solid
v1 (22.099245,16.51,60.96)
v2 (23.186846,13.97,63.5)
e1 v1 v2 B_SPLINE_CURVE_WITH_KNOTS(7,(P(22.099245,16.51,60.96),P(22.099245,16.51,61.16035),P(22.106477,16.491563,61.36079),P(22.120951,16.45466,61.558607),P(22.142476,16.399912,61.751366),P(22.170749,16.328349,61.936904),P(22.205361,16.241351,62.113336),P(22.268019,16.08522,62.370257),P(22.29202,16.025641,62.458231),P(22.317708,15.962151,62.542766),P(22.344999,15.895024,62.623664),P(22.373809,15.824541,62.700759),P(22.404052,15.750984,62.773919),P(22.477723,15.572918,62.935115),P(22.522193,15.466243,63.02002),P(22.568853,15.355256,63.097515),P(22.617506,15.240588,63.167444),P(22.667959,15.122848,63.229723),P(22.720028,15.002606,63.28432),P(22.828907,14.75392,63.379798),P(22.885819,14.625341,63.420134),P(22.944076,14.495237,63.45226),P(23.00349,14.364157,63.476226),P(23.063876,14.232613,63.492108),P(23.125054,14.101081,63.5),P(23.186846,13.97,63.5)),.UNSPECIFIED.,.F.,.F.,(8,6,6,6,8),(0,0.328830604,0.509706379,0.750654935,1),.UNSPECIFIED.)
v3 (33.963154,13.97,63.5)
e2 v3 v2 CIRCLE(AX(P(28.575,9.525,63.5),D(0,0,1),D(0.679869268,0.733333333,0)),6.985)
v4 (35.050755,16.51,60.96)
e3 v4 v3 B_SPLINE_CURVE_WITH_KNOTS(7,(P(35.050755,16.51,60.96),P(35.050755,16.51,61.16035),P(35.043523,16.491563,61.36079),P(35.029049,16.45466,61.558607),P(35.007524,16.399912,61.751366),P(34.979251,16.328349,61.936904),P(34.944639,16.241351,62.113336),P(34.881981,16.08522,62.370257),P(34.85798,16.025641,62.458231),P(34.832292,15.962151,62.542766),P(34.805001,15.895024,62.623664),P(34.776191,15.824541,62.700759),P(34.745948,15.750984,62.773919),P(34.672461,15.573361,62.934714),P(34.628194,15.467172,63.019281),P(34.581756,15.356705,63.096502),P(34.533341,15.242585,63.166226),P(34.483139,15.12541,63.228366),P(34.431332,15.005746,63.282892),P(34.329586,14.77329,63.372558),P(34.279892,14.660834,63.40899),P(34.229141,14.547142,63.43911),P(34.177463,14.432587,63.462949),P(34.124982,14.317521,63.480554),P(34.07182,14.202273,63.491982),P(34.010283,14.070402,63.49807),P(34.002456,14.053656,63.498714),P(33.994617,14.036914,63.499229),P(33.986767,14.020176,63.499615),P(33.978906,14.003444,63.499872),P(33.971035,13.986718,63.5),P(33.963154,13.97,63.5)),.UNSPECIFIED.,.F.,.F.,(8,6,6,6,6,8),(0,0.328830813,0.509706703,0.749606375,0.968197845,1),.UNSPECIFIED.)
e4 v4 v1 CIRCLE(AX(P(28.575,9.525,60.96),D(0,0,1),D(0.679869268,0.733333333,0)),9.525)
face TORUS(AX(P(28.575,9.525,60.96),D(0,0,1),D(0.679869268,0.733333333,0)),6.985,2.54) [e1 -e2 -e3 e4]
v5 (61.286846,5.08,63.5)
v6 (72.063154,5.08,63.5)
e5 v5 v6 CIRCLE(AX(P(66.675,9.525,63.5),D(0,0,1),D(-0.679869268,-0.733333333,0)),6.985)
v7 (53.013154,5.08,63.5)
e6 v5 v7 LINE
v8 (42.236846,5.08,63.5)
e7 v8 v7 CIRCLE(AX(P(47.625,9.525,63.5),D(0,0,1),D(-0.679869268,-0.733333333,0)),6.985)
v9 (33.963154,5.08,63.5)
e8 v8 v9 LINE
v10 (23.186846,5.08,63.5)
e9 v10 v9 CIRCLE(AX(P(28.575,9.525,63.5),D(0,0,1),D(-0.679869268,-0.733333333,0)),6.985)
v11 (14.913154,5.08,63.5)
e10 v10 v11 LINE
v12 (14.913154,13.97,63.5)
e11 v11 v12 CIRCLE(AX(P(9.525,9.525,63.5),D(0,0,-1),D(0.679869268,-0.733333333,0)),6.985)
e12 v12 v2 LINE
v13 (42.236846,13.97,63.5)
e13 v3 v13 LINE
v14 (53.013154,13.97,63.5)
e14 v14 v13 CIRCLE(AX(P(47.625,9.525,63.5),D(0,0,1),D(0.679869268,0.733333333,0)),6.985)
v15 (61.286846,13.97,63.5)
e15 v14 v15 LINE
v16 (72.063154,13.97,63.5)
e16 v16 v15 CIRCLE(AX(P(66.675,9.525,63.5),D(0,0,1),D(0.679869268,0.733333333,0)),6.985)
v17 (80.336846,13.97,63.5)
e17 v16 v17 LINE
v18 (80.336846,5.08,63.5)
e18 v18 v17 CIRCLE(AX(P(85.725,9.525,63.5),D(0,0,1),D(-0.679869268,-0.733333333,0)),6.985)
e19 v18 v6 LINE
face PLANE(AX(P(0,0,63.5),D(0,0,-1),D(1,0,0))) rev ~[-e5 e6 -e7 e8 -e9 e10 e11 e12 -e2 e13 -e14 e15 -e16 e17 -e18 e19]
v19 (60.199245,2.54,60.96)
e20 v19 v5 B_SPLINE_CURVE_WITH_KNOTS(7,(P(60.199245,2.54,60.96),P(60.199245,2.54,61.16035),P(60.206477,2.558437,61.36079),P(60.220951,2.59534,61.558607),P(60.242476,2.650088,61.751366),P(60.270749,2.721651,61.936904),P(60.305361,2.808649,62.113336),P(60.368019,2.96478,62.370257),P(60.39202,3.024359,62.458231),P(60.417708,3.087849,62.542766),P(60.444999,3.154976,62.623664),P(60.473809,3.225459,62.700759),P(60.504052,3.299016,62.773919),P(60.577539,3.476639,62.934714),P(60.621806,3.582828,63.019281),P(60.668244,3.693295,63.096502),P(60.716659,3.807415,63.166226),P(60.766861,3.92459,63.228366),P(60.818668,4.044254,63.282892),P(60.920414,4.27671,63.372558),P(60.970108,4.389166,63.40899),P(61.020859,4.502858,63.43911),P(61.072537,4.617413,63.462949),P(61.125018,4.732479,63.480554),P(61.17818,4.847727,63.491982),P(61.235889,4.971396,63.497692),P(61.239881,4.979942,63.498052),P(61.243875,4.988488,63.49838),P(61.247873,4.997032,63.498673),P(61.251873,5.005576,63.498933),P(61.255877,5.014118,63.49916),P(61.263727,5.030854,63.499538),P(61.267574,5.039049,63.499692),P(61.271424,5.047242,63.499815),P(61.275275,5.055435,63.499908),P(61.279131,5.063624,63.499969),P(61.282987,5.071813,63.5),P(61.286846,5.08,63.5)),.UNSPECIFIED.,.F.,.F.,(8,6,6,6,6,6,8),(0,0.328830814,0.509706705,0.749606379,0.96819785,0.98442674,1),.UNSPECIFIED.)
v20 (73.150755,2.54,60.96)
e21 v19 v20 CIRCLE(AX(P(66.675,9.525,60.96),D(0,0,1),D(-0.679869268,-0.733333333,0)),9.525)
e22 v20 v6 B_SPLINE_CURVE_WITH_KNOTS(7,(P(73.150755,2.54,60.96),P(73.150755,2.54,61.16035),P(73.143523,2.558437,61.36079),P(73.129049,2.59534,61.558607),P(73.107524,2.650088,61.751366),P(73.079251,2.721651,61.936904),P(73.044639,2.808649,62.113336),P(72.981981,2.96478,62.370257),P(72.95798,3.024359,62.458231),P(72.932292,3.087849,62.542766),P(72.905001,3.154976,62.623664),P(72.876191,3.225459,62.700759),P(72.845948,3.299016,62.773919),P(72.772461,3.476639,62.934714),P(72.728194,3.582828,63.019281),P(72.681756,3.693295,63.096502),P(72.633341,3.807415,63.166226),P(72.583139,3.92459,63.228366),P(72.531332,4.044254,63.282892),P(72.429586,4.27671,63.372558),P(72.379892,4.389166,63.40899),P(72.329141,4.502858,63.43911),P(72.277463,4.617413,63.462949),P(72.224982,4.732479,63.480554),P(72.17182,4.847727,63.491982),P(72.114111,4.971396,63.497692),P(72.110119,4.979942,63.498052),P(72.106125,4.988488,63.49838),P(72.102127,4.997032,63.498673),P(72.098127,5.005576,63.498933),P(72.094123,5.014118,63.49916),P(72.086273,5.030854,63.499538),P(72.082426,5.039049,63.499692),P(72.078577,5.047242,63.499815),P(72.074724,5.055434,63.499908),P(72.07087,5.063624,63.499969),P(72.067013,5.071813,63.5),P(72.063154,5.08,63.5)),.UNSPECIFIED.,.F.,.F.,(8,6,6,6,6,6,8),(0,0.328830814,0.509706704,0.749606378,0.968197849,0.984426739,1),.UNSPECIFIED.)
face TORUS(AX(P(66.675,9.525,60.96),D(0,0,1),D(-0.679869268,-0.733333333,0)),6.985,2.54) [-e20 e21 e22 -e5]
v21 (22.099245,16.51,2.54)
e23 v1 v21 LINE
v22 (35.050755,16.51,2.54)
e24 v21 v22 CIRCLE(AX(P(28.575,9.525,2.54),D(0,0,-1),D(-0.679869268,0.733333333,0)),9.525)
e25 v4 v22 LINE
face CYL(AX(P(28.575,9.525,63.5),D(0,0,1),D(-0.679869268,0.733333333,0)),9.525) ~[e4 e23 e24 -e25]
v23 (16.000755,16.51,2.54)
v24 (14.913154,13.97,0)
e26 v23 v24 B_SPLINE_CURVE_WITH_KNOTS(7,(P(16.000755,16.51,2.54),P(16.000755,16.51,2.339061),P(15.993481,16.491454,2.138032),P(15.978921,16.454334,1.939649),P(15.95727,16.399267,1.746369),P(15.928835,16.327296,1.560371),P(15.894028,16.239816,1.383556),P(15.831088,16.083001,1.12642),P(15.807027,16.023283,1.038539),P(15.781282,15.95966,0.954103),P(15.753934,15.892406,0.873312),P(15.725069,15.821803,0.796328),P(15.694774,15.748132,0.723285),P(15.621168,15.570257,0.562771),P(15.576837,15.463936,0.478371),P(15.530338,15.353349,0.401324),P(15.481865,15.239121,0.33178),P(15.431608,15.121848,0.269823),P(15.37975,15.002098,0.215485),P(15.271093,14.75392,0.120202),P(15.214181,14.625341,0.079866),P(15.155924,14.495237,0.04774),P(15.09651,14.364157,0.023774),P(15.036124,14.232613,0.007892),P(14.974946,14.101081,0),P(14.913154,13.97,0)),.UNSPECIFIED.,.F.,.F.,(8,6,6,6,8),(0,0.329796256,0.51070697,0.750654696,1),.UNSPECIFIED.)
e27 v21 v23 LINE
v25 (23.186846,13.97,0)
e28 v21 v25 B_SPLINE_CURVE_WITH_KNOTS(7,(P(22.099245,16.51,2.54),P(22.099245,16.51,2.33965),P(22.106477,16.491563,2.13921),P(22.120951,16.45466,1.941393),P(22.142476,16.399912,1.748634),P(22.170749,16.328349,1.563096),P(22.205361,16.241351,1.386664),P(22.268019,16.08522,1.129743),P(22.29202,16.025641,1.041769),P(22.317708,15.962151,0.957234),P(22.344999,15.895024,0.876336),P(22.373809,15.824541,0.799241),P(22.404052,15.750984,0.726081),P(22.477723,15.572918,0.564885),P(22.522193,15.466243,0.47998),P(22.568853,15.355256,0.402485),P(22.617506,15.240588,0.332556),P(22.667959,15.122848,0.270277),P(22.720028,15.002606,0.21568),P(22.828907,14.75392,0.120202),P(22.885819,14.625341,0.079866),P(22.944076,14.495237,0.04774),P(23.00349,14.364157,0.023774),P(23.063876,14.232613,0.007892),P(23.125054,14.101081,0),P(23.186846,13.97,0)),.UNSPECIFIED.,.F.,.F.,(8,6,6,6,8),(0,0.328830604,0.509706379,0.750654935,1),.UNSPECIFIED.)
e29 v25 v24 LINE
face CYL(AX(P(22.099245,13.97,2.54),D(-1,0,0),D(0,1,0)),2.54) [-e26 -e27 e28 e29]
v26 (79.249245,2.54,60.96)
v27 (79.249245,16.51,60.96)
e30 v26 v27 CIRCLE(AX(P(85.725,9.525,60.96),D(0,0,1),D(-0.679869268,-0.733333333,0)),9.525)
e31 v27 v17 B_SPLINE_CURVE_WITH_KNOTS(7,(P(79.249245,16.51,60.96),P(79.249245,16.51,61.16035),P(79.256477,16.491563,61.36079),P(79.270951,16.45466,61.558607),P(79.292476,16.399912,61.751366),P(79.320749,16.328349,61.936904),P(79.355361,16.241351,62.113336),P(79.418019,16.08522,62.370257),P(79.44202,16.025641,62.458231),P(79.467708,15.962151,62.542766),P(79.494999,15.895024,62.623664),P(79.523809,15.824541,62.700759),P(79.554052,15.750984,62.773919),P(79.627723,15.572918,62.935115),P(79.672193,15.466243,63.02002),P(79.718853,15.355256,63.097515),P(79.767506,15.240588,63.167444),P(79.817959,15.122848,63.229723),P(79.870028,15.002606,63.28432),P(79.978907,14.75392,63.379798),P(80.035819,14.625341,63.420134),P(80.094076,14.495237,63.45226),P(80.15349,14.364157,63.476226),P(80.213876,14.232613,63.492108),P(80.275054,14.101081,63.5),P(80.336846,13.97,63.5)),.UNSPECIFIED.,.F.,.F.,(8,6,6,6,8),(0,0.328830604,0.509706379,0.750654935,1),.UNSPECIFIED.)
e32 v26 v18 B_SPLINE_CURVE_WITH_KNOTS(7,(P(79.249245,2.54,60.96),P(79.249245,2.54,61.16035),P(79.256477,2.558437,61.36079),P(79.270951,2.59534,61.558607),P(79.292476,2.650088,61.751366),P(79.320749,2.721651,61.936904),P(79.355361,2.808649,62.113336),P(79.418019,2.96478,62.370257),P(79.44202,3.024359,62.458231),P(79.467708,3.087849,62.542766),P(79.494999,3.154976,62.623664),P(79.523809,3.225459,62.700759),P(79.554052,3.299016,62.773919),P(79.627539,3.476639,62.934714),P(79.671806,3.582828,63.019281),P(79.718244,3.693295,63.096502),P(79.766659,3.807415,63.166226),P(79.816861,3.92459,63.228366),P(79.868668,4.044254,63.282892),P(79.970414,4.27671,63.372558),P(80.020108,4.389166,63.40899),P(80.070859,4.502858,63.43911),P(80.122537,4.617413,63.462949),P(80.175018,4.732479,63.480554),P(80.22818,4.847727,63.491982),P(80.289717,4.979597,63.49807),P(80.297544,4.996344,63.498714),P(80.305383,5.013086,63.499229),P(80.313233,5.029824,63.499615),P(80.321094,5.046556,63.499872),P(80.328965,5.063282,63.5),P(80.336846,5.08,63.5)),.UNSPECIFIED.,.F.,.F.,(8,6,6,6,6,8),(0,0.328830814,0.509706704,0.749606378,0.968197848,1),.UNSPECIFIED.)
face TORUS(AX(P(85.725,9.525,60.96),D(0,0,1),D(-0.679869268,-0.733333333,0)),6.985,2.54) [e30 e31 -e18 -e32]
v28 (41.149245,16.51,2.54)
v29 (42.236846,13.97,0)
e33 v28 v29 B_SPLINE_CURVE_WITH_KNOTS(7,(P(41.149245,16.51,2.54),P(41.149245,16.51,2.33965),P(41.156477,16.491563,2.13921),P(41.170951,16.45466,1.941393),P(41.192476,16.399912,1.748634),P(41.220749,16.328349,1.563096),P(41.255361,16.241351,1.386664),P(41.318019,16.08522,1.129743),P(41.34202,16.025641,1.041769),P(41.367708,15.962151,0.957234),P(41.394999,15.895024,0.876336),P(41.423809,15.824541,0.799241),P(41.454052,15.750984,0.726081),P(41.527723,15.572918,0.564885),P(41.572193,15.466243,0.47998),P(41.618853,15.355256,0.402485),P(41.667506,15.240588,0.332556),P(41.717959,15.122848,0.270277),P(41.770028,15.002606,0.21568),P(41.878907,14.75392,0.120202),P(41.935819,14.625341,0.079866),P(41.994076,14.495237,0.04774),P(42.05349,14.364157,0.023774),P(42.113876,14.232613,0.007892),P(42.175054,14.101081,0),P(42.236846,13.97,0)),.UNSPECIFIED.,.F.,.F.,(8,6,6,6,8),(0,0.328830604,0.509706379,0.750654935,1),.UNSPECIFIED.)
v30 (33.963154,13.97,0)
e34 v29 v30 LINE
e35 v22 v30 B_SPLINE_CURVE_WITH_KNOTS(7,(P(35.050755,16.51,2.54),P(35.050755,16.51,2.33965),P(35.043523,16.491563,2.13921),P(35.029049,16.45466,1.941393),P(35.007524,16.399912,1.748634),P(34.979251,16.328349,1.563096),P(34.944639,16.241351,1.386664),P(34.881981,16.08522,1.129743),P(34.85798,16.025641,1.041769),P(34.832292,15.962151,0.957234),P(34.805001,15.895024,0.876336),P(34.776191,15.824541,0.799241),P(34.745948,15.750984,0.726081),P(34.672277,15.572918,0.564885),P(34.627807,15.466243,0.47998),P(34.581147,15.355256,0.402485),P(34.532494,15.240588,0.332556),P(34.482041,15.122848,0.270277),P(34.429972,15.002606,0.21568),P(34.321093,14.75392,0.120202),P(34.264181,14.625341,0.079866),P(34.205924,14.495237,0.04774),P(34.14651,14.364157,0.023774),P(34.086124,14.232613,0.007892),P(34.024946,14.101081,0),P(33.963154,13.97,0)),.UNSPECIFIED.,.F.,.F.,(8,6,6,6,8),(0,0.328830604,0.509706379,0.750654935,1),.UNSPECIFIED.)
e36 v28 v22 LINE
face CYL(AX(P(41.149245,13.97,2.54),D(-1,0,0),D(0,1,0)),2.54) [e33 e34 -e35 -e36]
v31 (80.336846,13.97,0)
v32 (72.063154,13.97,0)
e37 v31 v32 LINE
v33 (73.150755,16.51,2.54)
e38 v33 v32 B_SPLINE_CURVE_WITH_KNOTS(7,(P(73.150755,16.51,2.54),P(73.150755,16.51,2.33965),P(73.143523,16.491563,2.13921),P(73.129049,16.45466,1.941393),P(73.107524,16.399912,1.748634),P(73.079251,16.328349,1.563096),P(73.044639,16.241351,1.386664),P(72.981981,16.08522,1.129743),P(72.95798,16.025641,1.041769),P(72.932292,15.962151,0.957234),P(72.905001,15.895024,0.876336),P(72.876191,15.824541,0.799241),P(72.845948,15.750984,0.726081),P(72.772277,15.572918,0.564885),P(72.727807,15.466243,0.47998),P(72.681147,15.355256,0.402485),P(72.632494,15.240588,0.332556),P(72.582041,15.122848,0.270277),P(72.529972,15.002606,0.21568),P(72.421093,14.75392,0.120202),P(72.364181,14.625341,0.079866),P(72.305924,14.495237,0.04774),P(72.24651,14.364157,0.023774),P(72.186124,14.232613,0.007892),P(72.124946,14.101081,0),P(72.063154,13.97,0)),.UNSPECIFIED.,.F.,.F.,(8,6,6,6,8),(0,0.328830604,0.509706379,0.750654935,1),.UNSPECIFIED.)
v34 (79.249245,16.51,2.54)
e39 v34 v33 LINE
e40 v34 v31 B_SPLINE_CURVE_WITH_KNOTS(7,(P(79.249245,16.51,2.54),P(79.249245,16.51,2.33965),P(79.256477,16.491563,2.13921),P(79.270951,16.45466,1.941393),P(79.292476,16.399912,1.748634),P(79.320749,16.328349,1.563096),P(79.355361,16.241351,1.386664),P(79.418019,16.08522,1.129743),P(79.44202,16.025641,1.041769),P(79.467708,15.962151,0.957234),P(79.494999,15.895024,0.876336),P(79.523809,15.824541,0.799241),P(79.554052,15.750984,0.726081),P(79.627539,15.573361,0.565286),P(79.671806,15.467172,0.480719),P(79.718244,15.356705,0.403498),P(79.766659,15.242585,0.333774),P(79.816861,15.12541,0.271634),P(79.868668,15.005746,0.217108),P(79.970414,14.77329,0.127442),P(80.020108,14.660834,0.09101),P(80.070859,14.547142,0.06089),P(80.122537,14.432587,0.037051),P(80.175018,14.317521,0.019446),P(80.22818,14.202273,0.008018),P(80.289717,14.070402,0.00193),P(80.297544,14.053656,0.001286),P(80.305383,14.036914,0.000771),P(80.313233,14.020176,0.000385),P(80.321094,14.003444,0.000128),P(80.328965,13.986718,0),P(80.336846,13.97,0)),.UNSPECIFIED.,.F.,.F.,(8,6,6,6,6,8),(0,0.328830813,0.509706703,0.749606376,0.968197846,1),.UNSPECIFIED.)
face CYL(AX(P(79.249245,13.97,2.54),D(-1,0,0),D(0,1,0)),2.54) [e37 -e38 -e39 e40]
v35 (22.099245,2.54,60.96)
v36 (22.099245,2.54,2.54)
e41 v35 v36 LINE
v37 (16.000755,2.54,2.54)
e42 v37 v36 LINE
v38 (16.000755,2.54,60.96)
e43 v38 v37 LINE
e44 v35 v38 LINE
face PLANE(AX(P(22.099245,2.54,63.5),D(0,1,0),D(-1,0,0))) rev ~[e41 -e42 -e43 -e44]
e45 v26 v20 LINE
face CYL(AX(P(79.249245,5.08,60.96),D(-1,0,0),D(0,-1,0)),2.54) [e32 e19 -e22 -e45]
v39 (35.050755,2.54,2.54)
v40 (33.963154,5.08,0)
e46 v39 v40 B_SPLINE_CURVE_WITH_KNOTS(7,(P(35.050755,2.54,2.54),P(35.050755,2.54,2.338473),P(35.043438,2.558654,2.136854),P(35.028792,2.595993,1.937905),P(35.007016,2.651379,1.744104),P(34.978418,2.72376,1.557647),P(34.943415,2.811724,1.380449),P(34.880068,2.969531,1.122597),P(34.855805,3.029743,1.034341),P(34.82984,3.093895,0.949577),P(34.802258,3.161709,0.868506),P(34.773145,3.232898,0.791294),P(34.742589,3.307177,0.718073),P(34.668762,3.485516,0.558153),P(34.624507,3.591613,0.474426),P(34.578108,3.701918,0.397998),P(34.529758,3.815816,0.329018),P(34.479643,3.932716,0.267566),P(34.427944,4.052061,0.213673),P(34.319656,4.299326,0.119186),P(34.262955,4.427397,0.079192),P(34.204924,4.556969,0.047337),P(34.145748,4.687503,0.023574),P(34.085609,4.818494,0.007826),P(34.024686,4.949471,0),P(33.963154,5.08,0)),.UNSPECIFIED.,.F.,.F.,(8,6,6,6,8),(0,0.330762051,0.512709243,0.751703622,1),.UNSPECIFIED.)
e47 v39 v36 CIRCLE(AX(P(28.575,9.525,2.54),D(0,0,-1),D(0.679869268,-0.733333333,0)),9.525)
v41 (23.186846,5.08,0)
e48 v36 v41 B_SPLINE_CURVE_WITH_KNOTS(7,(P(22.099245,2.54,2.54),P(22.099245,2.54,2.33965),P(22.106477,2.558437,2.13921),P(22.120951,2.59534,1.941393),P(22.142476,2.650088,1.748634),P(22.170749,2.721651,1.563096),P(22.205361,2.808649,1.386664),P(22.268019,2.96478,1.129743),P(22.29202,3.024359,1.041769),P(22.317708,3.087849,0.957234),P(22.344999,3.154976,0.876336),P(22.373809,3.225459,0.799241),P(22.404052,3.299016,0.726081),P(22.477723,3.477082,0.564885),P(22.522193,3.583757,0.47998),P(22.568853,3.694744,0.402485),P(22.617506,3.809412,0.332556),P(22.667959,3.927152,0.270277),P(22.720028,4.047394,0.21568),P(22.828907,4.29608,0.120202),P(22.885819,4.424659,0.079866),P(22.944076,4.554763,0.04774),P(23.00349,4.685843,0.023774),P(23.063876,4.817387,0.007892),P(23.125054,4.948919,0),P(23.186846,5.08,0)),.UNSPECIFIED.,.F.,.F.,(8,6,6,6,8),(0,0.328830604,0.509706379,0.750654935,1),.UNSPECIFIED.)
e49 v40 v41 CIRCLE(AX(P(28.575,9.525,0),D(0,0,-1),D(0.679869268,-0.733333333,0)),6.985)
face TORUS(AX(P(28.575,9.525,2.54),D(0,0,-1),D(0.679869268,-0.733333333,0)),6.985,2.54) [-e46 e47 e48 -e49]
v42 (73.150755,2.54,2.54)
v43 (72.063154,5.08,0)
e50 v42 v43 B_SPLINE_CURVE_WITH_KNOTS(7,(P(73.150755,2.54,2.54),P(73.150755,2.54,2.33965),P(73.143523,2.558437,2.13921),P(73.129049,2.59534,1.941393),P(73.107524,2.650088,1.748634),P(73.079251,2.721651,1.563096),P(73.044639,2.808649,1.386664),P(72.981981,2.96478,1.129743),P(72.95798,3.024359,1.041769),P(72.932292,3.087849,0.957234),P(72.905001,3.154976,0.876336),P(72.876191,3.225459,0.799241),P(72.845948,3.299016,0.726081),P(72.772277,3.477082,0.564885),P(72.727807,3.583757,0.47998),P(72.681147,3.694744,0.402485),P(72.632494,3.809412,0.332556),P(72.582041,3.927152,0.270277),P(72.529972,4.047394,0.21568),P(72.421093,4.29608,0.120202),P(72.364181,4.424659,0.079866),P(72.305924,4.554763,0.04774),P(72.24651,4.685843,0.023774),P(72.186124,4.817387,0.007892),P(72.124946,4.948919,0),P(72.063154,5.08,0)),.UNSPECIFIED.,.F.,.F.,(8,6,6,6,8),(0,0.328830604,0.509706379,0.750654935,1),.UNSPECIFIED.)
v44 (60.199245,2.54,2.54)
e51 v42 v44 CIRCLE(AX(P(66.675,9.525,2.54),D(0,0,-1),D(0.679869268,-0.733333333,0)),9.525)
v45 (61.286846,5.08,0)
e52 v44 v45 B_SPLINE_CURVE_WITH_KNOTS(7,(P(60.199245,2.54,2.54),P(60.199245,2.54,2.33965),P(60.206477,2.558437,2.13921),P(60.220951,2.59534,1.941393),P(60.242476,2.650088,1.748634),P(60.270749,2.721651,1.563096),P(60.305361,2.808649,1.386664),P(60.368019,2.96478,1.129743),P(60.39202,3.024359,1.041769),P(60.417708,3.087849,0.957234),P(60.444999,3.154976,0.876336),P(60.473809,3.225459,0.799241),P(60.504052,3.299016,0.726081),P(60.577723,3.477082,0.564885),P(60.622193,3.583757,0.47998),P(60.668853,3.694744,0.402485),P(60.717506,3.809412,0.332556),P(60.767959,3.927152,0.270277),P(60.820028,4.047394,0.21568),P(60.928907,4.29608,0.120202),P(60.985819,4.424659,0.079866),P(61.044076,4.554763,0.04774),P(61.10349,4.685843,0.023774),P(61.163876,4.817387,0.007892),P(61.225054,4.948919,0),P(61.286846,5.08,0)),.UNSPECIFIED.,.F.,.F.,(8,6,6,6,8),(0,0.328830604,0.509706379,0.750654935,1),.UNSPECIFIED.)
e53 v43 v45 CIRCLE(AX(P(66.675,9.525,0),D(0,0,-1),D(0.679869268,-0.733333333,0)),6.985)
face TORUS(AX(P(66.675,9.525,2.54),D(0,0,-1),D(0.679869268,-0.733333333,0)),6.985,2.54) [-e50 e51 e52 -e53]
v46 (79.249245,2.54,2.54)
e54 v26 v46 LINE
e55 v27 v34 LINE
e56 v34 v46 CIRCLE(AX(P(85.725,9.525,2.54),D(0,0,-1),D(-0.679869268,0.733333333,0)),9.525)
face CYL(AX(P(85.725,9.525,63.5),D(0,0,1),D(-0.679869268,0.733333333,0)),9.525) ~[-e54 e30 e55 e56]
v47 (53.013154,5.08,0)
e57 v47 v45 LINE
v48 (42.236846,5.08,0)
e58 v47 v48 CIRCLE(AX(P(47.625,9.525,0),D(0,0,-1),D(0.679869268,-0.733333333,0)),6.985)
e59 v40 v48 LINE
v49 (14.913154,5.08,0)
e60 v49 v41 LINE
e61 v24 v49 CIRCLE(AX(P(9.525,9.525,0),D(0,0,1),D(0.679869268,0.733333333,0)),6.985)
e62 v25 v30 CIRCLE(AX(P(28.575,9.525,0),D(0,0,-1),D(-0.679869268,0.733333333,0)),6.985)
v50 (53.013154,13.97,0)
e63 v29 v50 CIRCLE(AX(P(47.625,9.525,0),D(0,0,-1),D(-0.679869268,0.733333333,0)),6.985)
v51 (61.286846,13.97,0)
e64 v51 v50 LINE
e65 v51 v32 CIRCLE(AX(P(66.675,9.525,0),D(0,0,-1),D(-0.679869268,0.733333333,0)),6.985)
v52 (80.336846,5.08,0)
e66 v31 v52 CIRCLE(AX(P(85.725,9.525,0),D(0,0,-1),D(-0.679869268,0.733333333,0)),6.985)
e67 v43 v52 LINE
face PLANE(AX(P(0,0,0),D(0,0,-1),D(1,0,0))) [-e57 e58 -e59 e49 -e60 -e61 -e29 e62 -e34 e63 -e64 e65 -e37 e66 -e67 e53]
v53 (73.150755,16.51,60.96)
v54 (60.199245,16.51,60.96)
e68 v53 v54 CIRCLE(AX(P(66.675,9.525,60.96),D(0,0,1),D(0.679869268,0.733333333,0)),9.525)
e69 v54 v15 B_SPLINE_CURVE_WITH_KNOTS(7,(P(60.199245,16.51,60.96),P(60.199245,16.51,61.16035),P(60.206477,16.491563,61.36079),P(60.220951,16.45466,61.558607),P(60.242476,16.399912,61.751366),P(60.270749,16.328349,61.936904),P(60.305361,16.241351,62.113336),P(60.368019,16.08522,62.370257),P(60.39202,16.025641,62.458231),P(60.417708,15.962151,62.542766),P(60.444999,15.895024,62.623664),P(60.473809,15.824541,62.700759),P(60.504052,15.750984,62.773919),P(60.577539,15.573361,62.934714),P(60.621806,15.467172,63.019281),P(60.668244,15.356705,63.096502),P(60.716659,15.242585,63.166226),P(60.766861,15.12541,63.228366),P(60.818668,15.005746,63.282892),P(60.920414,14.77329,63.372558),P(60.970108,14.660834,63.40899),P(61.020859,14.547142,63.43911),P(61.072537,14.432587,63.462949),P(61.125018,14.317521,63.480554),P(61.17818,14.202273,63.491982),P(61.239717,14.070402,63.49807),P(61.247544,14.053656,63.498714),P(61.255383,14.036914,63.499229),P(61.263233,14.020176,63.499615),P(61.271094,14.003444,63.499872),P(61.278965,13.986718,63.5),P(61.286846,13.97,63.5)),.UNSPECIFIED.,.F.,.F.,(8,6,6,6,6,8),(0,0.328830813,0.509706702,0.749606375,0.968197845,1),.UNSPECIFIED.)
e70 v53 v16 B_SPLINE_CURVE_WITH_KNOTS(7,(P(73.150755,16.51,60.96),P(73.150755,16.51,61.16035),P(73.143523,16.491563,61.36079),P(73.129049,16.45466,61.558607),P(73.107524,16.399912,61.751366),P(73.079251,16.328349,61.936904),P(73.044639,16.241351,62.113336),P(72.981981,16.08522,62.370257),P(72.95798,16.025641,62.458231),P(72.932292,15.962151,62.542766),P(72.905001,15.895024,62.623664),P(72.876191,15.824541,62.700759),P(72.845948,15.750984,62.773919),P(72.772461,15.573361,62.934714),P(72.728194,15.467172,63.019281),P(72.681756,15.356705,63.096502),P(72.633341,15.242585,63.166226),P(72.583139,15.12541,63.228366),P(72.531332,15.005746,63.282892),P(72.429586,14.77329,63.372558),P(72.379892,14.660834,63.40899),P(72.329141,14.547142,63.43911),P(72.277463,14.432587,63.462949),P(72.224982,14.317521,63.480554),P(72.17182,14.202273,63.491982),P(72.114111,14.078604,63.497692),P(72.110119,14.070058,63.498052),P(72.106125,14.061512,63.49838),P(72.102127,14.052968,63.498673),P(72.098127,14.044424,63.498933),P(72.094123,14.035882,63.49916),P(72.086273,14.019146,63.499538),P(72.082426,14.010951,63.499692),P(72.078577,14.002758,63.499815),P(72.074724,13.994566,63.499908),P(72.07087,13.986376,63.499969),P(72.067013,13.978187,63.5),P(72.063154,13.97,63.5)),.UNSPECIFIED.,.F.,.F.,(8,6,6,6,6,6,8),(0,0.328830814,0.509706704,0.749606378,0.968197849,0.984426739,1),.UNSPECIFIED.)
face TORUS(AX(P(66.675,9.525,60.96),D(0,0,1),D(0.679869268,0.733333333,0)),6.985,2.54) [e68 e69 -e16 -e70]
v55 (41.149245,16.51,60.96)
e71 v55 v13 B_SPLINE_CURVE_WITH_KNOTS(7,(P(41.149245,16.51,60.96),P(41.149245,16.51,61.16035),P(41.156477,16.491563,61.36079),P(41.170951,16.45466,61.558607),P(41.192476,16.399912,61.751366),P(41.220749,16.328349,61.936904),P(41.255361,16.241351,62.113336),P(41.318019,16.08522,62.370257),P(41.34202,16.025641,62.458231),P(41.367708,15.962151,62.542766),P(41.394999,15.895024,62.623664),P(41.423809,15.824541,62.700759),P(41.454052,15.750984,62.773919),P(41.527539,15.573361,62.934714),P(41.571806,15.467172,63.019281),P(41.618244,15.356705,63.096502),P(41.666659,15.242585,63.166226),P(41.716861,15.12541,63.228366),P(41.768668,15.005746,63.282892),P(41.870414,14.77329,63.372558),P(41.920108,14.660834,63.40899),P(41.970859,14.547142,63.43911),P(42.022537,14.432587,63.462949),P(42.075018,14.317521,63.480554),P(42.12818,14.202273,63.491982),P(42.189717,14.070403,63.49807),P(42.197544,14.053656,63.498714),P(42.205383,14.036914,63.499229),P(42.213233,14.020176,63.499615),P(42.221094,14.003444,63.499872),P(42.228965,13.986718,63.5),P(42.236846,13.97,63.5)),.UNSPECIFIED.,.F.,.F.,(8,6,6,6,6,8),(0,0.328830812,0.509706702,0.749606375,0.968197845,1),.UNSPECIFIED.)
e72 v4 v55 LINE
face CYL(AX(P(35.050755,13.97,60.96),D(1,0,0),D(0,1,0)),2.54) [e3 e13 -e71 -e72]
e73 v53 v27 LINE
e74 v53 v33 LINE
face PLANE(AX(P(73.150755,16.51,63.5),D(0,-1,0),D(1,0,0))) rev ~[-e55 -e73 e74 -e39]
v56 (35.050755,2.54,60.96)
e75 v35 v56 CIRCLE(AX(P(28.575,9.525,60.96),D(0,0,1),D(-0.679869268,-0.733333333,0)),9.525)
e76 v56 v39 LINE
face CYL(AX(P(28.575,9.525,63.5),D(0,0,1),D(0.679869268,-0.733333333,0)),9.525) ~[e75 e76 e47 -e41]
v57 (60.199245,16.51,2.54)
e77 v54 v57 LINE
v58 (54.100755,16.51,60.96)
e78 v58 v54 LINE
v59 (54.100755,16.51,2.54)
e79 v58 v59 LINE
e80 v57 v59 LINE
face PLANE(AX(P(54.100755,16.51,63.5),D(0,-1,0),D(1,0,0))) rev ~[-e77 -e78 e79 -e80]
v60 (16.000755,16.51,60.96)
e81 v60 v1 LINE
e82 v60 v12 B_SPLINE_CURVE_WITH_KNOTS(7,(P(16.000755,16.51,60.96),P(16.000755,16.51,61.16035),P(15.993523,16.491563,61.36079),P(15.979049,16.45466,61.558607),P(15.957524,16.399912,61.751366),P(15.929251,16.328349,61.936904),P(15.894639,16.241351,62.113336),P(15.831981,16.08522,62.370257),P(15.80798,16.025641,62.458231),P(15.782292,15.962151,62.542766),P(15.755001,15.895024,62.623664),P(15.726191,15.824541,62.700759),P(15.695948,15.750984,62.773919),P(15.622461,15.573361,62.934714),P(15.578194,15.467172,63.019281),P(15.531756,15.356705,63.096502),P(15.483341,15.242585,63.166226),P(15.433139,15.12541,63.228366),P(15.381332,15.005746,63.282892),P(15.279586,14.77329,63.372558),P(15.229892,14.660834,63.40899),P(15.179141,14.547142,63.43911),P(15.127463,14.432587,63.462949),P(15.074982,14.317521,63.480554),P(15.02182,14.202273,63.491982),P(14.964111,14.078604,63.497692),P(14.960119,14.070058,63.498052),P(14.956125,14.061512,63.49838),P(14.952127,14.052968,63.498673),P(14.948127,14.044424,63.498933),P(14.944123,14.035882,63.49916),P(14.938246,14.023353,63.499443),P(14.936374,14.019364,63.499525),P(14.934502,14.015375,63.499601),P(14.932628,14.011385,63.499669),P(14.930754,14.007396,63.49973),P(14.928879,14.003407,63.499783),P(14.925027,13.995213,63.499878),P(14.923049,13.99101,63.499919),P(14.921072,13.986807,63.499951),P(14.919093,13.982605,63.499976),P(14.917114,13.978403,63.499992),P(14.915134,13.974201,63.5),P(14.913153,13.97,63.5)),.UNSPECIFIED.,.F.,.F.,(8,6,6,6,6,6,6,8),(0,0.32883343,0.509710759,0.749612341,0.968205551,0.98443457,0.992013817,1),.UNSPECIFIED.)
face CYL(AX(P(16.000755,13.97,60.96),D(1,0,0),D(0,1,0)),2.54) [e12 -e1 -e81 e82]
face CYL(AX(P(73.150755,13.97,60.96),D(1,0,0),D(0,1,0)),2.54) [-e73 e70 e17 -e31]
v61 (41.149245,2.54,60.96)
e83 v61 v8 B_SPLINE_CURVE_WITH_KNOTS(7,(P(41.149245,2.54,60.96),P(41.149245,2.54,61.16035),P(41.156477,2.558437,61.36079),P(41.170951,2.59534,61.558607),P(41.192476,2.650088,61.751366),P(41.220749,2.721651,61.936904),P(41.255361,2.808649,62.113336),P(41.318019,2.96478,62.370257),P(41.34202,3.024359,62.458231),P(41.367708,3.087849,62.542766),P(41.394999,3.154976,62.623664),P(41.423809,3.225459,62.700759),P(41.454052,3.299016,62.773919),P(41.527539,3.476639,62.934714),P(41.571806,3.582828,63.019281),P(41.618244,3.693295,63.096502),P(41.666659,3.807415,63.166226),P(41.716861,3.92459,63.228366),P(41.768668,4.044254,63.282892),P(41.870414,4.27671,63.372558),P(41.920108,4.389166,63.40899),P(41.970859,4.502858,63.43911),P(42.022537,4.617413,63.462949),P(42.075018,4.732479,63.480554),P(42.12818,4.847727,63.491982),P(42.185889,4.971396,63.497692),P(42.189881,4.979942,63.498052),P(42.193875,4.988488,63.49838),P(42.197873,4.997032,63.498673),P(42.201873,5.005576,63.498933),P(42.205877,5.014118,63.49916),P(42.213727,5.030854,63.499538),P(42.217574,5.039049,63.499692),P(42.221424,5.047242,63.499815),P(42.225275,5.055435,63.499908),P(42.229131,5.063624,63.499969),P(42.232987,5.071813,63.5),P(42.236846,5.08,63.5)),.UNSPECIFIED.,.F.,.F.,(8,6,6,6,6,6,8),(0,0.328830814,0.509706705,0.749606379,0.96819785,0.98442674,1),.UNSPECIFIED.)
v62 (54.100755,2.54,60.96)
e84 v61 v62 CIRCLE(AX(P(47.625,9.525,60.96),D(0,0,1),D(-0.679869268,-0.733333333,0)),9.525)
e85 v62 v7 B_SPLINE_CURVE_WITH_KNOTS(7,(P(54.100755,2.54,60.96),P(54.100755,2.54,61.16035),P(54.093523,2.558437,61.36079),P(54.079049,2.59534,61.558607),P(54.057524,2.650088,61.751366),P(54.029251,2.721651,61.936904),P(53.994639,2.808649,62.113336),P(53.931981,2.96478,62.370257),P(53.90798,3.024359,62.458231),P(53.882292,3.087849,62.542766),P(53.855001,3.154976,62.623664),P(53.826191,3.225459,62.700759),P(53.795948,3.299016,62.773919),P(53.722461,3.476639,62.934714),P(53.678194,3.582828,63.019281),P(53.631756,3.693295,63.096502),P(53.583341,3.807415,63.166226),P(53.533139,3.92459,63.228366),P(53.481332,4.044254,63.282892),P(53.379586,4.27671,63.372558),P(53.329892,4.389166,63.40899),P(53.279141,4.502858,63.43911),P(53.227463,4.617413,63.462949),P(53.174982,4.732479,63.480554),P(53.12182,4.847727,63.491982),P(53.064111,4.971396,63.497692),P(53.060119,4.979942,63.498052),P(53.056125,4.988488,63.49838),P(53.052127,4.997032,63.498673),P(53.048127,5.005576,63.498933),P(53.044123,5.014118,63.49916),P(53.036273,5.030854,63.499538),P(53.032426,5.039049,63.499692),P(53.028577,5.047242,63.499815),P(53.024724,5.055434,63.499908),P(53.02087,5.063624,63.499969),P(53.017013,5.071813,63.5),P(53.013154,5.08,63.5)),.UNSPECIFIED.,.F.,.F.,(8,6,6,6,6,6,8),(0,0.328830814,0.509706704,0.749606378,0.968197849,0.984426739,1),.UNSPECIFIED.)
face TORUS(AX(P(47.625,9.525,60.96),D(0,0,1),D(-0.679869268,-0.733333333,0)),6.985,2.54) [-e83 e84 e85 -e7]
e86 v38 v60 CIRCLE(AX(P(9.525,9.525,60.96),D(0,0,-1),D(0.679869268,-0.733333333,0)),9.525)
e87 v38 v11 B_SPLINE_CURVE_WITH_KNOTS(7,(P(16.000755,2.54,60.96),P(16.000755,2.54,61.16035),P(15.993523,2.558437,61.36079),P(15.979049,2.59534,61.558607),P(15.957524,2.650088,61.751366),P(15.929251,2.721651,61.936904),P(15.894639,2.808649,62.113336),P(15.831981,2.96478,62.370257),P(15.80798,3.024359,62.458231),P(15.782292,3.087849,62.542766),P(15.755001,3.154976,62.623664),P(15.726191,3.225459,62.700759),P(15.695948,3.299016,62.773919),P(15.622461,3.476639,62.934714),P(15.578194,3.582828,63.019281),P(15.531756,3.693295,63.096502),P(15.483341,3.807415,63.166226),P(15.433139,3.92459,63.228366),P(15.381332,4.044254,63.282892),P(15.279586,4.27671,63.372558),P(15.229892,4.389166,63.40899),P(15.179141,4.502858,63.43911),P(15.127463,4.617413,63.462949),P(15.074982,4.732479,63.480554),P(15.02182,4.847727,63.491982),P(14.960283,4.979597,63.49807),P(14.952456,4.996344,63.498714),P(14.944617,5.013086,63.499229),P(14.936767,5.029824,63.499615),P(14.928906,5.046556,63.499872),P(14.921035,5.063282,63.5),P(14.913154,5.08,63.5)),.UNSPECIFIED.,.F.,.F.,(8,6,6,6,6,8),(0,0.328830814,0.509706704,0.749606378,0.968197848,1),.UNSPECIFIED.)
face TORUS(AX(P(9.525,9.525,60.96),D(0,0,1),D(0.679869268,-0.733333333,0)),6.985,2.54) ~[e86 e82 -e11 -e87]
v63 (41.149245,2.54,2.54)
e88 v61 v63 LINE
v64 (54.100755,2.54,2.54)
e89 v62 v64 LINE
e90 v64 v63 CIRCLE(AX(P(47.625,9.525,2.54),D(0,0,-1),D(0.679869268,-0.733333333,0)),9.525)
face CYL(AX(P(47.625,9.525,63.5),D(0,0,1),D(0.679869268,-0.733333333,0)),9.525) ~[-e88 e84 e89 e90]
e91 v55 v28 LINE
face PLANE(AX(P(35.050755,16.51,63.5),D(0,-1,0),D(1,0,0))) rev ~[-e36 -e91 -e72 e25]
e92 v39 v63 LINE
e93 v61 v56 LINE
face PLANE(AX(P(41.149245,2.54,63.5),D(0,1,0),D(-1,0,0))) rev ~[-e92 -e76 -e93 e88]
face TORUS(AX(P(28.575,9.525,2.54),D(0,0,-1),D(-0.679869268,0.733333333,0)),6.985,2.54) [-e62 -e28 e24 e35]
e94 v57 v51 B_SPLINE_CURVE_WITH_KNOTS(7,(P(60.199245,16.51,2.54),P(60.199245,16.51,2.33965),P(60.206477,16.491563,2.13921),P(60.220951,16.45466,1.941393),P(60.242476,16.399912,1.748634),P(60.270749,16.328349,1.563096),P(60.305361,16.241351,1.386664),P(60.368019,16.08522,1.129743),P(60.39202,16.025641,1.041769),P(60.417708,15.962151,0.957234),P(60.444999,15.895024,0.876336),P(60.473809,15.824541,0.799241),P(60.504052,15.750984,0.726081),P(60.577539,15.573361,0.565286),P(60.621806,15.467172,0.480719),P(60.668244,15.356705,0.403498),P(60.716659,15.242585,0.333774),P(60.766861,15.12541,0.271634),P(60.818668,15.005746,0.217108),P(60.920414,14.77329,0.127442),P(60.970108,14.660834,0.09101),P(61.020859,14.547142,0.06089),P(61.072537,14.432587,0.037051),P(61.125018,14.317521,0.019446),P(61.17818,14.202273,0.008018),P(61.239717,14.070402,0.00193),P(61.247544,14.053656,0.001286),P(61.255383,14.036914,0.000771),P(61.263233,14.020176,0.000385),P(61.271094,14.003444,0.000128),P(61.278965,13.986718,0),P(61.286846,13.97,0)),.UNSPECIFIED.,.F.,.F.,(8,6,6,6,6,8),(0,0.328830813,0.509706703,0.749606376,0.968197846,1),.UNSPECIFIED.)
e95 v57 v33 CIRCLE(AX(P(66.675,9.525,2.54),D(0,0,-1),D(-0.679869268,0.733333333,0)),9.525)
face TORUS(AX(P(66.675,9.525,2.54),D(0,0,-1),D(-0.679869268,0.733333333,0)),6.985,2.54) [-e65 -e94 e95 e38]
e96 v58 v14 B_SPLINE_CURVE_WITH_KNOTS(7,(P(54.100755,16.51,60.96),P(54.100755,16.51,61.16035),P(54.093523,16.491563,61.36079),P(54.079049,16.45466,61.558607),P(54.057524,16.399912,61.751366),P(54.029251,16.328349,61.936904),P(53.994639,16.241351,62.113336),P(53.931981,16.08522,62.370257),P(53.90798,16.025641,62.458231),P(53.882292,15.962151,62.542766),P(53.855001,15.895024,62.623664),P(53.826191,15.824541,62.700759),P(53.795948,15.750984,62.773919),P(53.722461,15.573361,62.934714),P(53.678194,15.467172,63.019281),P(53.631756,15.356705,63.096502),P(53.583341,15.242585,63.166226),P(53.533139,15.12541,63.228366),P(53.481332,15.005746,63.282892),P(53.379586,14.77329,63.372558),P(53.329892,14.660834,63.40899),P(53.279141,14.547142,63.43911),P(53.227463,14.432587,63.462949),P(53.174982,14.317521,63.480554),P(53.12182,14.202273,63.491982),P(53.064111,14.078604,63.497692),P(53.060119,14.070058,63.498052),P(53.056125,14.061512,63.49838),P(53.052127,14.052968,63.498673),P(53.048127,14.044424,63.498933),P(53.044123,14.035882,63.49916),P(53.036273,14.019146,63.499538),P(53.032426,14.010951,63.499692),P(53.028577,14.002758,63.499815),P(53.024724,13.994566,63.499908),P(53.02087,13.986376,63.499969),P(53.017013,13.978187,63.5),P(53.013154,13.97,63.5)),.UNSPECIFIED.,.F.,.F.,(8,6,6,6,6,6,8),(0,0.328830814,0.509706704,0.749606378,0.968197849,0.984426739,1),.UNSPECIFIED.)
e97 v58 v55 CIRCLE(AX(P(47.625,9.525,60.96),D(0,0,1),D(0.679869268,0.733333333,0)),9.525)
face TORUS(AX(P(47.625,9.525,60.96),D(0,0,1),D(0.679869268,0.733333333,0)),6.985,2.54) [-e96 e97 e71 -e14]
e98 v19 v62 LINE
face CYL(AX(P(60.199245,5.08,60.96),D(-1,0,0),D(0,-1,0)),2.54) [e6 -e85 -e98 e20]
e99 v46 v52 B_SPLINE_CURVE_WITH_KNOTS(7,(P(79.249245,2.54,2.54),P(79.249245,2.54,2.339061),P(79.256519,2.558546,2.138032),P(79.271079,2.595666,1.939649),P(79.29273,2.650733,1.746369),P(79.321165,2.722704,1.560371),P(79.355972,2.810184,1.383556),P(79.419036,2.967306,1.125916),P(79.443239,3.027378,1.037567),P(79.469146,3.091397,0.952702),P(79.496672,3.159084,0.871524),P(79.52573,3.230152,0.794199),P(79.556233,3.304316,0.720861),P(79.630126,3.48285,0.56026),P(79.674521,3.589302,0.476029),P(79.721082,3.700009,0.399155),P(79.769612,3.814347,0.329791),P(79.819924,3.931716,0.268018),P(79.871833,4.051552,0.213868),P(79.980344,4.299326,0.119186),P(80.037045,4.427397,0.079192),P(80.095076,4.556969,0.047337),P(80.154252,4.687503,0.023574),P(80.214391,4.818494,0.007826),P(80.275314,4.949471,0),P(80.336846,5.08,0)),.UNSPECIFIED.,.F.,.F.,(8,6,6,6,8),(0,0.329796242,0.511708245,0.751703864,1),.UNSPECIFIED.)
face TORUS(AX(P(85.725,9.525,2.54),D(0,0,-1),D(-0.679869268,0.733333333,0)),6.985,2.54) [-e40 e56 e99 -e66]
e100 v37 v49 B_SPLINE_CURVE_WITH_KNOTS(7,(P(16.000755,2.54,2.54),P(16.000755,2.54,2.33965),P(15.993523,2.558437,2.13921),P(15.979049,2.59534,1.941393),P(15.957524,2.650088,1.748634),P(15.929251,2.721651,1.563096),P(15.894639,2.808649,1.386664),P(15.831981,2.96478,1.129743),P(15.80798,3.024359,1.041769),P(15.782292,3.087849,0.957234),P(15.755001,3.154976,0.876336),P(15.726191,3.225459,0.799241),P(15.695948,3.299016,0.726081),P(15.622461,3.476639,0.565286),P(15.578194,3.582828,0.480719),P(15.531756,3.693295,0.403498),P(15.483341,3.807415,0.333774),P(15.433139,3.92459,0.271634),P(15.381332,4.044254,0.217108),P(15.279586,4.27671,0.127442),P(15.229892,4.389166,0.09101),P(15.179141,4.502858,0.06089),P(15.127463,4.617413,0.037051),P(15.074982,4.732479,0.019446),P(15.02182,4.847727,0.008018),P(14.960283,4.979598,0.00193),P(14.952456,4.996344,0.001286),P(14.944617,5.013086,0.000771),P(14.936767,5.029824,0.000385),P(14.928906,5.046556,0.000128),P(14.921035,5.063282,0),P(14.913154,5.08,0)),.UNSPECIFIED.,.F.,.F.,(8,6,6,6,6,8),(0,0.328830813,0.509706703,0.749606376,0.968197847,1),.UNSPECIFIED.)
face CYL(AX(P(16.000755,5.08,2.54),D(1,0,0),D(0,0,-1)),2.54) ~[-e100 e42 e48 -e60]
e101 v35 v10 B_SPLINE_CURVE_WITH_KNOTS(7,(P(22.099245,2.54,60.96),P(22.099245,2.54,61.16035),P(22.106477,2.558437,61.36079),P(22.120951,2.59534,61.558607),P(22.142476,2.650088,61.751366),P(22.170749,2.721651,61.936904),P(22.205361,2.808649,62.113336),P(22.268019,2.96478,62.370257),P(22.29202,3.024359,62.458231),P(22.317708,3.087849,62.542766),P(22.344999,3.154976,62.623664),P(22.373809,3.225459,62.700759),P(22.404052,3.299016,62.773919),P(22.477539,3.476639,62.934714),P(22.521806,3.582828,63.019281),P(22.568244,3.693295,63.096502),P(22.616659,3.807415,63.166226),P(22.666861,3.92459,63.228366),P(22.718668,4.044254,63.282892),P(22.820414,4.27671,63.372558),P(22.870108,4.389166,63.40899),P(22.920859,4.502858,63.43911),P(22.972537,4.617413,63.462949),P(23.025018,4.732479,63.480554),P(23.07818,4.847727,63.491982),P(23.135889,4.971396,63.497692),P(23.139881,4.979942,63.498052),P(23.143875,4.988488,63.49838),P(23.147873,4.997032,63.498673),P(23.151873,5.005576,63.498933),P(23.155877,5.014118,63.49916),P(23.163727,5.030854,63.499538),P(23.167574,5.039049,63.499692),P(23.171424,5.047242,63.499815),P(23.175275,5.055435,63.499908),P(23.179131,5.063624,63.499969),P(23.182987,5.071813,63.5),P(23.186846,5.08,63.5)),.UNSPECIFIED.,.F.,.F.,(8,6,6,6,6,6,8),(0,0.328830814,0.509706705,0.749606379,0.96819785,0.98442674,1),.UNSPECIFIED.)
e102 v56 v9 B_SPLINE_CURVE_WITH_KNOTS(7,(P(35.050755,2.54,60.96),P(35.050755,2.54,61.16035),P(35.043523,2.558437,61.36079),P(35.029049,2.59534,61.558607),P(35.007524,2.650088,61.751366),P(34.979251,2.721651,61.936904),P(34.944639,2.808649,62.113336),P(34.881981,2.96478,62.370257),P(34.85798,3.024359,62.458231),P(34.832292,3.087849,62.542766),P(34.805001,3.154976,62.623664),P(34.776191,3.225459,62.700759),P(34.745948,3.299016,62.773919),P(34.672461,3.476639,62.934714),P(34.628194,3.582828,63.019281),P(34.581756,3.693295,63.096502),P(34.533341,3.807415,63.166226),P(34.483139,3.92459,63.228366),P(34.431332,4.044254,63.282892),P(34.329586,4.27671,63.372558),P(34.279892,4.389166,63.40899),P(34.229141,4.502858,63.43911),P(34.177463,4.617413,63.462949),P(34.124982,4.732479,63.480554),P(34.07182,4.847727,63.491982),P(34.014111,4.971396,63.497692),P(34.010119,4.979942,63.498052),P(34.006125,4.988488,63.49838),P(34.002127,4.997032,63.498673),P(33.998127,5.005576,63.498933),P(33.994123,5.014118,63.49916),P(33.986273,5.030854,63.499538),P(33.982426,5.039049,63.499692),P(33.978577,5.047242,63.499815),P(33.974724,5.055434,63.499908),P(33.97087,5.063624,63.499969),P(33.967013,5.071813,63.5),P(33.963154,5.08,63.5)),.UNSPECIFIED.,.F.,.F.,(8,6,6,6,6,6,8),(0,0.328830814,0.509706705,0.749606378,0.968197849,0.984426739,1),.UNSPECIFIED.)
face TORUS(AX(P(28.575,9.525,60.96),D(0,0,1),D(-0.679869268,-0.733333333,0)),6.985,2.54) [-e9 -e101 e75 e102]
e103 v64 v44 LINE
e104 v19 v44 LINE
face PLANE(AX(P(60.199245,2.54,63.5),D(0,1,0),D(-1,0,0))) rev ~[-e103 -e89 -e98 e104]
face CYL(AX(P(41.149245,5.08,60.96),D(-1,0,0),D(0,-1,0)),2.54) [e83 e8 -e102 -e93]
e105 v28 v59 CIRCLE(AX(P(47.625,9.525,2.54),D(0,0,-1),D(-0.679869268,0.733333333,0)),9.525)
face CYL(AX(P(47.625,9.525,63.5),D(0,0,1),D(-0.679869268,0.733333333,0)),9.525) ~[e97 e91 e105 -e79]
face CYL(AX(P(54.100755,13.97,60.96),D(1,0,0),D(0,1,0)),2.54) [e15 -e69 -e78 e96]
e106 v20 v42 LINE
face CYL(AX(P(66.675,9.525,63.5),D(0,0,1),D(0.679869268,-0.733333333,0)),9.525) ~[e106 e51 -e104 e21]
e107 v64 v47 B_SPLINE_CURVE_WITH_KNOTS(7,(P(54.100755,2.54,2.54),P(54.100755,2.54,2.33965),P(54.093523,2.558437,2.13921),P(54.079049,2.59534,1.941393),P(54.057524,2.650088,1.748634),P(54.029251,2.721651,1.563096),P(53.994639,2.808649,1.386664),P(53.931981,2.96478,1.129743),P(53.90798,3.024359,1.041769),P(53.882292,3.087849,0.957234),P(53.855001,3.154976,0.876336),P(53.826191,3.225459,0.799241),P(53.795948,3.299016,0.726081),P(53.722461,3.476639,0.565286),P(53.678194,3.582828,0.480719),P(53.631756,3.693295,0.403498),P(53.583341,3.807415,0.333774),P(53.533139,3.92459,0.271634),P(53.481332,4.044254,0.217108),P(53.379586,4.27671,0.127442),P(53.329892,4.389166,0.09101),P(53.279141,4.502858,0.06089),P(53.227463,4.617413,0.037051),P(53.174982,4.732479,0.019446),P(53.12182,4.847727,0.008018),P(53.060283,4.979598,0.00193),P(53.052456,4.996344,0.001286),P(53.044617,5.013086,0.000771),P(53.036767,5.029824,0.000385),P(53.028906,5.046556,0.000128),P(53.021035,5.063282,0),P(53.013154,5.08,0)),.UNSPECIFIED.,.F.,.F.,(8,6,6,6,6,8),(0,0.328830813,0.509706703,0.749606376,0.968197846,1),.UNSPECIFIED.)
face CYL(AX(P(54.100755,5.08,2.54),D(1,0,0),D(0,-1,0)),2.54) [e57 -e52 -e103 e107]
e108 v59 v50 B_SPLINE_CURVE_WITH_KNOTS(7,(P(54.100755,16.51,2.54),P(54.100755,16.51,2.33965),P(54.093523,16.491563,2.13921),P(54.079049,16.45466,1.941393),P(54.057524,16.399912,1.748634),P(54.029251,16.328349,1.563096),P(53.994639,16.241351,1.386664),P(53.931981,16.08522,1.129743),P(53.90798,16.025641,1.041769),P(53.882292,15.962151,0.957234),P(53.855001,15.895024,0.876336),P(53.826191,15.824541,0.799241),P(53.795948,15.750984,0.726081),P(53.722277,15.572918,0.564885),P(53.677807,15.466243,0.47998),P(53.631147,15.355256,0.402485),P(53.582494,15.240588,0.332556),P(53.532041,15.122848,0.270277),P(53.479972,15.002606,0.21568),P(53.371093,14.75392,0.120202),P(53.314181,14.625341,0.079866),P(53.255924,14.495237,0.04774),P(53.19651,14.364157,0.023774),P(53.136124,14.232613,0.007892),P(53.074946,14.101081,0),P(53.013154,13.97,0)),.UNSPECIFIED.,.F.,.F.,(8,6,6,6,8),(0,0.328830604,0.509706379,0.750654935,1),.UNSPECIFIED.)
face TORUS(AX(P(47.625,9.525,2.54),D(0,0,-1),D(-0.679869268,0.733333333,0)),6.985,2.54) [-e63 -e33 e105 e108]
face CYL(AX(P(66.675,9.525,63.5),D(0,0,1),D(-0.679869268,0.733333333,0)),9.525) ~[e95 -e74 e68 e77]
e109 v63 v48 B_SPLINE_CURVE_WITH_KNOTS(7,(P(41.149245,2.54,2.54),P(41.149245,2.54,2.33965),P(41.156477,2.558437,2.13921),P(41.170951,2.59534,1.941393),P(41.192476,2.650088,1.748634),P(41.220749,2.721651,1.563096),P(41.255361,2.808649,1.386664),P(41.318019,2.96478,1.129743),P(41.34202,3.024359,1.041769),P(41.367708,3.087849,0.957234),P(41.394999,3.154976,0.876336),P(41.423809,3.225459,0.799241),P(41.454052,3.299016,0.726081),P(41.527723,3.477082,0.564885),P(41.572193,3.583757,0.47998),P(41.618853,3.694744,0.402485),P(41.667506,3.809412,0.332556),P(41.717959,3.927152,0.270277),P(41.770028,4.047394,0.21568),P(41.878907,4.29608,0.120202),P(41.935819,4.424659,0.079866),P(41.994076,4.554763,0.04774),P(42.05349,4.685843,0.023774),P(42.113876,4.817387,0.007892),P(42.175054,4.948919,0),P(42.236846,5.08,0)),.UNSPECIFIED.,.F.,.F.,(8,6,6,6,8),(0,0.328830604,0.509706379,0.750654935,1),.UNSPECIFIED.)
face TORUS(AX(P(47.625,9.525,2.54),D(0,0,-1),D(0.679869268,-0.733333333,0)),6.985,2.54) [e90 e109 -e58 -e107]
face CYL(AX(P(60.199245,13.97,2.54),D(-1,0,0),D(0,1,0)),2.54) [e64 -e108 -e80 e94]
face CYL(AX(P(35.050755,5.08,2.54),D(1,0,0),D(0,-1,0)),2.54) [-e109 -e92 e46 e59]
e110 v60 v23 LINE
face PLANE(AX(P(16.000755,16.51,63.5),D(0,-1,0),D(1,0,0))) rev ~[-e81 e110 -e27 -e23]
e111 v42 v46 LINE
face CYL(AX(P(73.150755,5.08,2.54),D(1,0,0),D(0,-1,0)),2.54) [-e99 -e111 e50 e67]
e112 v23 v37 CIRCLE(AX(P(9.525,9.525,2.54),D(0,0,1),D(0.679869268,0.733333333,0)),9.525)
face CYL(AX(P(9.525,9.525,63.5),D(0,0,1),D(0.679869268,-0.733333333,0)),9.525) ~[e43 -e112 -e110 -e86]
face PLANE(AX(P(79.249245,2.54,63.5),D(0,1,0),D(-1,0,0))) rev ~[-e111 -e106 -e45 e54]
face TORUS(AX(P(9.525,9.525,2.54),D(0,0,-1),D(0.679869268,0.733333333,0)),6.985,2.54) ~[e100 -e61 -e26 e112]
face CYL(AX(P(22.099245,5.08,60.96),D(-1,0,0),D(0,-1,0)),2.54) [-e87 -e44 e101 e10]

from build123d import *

# Parameters (mm, degrees)
SKETCH1_W           = 95.25
SKETCH1_H           = 63.5
BOSS_EXTRUDE1_DEPTH = 19.05
SKETCH2_OUTSIDE_W   = 120.46
SKETCH2_OUTSIDE_H   = 44.26
CUT_EXTRUDE1_DEPTH  = 117.050484704
FILLET1_R           = 2.54


with BuildPart() as part:
    # Sketch1 → Boss-Extrude1 (new body)
    with BuildSketch(Plane(origin=(0, 0, 0), x_dir=(1, 0, 0), z_dir=(0, 1, 0))):
        with Locations((47.625, -31.75)):
            Rectangle(SKETCH1_W, SKETCH1_H)
    extrude(amount=BOSS_EXTRUDE1_DEPTH)

    # Sketch2 outside → Cut-Extrude1 (cut, through all)
    with BuildSketch(Plane.XY.offset(63.5)):
        with Locations((47.625, 9.525)):
            Rectangle(SKETCH2_OUTSIDE_W, SKETCH2_OUTSIDE_H)
        with BuildLine():
            Line((16.000754782, 16.51), (22.099245218, 16.51))
            ThreePointArc((22.099245218, 16.51), (28.575, 19.05), (35.050754782, 16.51))
            Line((35.050754782, 16.51), (41.149245218, 16.51))
            ThreePointArc((41.149245218, 16.51), (47.625, 19.05), (54.100754782, 16.51))
            Line((54.100754782, 16.51), (60.199245218, 16.51))
            ThreePointArc((60.199245218, 16.51), (66.675, 19.05), (73.150754782, 16.51))
            Line((73.150754782, 16.51), (79.249245218, 16.51))
            ThreePointArc((79.249245218, 16.51), (95.25, 9.525), (79.249245218, 2.54))
            Line((79.249245218, 2.54), (73.150754782, 2.54))
            ThreePointArc((73.150754782, 2.54), (66.675, 0), (60.199245218, 2.54))
            Line((60.199245218, 2.54), (54.100754782, 2.54))
            ThreePointArc((54.100754782, 2.54), (47.625, 0), (41.149245218, 2.54))
            Line((41.149245218, 2.54), (35.050754782, 2.54))
            ThreePointArc((35.050754782, 2.54), (28.575, 0), (22.099245218, 2.54))
            Line((22.099245218, 2.54), (16.000754782, 2.54))
            ThreePointArc((16.000754782, 2.54), (0, 9.525), (16.000754782, 16.51))
        make_face(mode=Mode.SUBTRACT)
    extrude(amount=-CUT_EXTRUDE1_DEPTH, mode=Mode.SUBTRACT)

    # Fillet1
    fillet1_edges = [part.edges().sort_by_distance(p)[0] for p in [
        (28.575, 19.05, 0),
        (47.625, 19.05, 0),
        (66.675, 19.05, 0),
        (0, 9.525, 0),
        (95.25, 9.525, 0),
        (66.675, 0, 0),
        (47.625, 0, 0),
        (28.575, 0, 0),
        (19.05, 16.51, 63.5),
        (38.1, 16.51, 63.5),
        (57.15, 16.51, 63.5),
        (76.2, 16.51, 63.5),
        (76.2, 2.54, 0),
        (57.15, 2.54, 0),
        (38.1, 2.54, 0),
        (19.05, 2.54, 0),
        (19.05, 16.51, 0),
        (38.1, 16.51, 0),
        (57.15, 16.51, 0),
        (76.2, 16.51, 0),
        (0, 9.525, 63.5),
        (19.05, 2.54, 63.5),
        (28.575, 0, 63.5),
        (38.1, 2.54, 63.5),
        (47.625, 0, 63.5),
        (57.15, 2.54, 63.5),
        (66.675, 0, 63.5),
        (76.2, 2.54, 63.5),
        (95.25, 9.525, 63.5),
        (66.675, 19.05, 63.5),
        (47.625, 19.05, 63.5),
        (28.575, 19.05, 63.5),
    ]]
    fillet(fillet1_edges, radius=FILLET1_R)


solid = part.part
